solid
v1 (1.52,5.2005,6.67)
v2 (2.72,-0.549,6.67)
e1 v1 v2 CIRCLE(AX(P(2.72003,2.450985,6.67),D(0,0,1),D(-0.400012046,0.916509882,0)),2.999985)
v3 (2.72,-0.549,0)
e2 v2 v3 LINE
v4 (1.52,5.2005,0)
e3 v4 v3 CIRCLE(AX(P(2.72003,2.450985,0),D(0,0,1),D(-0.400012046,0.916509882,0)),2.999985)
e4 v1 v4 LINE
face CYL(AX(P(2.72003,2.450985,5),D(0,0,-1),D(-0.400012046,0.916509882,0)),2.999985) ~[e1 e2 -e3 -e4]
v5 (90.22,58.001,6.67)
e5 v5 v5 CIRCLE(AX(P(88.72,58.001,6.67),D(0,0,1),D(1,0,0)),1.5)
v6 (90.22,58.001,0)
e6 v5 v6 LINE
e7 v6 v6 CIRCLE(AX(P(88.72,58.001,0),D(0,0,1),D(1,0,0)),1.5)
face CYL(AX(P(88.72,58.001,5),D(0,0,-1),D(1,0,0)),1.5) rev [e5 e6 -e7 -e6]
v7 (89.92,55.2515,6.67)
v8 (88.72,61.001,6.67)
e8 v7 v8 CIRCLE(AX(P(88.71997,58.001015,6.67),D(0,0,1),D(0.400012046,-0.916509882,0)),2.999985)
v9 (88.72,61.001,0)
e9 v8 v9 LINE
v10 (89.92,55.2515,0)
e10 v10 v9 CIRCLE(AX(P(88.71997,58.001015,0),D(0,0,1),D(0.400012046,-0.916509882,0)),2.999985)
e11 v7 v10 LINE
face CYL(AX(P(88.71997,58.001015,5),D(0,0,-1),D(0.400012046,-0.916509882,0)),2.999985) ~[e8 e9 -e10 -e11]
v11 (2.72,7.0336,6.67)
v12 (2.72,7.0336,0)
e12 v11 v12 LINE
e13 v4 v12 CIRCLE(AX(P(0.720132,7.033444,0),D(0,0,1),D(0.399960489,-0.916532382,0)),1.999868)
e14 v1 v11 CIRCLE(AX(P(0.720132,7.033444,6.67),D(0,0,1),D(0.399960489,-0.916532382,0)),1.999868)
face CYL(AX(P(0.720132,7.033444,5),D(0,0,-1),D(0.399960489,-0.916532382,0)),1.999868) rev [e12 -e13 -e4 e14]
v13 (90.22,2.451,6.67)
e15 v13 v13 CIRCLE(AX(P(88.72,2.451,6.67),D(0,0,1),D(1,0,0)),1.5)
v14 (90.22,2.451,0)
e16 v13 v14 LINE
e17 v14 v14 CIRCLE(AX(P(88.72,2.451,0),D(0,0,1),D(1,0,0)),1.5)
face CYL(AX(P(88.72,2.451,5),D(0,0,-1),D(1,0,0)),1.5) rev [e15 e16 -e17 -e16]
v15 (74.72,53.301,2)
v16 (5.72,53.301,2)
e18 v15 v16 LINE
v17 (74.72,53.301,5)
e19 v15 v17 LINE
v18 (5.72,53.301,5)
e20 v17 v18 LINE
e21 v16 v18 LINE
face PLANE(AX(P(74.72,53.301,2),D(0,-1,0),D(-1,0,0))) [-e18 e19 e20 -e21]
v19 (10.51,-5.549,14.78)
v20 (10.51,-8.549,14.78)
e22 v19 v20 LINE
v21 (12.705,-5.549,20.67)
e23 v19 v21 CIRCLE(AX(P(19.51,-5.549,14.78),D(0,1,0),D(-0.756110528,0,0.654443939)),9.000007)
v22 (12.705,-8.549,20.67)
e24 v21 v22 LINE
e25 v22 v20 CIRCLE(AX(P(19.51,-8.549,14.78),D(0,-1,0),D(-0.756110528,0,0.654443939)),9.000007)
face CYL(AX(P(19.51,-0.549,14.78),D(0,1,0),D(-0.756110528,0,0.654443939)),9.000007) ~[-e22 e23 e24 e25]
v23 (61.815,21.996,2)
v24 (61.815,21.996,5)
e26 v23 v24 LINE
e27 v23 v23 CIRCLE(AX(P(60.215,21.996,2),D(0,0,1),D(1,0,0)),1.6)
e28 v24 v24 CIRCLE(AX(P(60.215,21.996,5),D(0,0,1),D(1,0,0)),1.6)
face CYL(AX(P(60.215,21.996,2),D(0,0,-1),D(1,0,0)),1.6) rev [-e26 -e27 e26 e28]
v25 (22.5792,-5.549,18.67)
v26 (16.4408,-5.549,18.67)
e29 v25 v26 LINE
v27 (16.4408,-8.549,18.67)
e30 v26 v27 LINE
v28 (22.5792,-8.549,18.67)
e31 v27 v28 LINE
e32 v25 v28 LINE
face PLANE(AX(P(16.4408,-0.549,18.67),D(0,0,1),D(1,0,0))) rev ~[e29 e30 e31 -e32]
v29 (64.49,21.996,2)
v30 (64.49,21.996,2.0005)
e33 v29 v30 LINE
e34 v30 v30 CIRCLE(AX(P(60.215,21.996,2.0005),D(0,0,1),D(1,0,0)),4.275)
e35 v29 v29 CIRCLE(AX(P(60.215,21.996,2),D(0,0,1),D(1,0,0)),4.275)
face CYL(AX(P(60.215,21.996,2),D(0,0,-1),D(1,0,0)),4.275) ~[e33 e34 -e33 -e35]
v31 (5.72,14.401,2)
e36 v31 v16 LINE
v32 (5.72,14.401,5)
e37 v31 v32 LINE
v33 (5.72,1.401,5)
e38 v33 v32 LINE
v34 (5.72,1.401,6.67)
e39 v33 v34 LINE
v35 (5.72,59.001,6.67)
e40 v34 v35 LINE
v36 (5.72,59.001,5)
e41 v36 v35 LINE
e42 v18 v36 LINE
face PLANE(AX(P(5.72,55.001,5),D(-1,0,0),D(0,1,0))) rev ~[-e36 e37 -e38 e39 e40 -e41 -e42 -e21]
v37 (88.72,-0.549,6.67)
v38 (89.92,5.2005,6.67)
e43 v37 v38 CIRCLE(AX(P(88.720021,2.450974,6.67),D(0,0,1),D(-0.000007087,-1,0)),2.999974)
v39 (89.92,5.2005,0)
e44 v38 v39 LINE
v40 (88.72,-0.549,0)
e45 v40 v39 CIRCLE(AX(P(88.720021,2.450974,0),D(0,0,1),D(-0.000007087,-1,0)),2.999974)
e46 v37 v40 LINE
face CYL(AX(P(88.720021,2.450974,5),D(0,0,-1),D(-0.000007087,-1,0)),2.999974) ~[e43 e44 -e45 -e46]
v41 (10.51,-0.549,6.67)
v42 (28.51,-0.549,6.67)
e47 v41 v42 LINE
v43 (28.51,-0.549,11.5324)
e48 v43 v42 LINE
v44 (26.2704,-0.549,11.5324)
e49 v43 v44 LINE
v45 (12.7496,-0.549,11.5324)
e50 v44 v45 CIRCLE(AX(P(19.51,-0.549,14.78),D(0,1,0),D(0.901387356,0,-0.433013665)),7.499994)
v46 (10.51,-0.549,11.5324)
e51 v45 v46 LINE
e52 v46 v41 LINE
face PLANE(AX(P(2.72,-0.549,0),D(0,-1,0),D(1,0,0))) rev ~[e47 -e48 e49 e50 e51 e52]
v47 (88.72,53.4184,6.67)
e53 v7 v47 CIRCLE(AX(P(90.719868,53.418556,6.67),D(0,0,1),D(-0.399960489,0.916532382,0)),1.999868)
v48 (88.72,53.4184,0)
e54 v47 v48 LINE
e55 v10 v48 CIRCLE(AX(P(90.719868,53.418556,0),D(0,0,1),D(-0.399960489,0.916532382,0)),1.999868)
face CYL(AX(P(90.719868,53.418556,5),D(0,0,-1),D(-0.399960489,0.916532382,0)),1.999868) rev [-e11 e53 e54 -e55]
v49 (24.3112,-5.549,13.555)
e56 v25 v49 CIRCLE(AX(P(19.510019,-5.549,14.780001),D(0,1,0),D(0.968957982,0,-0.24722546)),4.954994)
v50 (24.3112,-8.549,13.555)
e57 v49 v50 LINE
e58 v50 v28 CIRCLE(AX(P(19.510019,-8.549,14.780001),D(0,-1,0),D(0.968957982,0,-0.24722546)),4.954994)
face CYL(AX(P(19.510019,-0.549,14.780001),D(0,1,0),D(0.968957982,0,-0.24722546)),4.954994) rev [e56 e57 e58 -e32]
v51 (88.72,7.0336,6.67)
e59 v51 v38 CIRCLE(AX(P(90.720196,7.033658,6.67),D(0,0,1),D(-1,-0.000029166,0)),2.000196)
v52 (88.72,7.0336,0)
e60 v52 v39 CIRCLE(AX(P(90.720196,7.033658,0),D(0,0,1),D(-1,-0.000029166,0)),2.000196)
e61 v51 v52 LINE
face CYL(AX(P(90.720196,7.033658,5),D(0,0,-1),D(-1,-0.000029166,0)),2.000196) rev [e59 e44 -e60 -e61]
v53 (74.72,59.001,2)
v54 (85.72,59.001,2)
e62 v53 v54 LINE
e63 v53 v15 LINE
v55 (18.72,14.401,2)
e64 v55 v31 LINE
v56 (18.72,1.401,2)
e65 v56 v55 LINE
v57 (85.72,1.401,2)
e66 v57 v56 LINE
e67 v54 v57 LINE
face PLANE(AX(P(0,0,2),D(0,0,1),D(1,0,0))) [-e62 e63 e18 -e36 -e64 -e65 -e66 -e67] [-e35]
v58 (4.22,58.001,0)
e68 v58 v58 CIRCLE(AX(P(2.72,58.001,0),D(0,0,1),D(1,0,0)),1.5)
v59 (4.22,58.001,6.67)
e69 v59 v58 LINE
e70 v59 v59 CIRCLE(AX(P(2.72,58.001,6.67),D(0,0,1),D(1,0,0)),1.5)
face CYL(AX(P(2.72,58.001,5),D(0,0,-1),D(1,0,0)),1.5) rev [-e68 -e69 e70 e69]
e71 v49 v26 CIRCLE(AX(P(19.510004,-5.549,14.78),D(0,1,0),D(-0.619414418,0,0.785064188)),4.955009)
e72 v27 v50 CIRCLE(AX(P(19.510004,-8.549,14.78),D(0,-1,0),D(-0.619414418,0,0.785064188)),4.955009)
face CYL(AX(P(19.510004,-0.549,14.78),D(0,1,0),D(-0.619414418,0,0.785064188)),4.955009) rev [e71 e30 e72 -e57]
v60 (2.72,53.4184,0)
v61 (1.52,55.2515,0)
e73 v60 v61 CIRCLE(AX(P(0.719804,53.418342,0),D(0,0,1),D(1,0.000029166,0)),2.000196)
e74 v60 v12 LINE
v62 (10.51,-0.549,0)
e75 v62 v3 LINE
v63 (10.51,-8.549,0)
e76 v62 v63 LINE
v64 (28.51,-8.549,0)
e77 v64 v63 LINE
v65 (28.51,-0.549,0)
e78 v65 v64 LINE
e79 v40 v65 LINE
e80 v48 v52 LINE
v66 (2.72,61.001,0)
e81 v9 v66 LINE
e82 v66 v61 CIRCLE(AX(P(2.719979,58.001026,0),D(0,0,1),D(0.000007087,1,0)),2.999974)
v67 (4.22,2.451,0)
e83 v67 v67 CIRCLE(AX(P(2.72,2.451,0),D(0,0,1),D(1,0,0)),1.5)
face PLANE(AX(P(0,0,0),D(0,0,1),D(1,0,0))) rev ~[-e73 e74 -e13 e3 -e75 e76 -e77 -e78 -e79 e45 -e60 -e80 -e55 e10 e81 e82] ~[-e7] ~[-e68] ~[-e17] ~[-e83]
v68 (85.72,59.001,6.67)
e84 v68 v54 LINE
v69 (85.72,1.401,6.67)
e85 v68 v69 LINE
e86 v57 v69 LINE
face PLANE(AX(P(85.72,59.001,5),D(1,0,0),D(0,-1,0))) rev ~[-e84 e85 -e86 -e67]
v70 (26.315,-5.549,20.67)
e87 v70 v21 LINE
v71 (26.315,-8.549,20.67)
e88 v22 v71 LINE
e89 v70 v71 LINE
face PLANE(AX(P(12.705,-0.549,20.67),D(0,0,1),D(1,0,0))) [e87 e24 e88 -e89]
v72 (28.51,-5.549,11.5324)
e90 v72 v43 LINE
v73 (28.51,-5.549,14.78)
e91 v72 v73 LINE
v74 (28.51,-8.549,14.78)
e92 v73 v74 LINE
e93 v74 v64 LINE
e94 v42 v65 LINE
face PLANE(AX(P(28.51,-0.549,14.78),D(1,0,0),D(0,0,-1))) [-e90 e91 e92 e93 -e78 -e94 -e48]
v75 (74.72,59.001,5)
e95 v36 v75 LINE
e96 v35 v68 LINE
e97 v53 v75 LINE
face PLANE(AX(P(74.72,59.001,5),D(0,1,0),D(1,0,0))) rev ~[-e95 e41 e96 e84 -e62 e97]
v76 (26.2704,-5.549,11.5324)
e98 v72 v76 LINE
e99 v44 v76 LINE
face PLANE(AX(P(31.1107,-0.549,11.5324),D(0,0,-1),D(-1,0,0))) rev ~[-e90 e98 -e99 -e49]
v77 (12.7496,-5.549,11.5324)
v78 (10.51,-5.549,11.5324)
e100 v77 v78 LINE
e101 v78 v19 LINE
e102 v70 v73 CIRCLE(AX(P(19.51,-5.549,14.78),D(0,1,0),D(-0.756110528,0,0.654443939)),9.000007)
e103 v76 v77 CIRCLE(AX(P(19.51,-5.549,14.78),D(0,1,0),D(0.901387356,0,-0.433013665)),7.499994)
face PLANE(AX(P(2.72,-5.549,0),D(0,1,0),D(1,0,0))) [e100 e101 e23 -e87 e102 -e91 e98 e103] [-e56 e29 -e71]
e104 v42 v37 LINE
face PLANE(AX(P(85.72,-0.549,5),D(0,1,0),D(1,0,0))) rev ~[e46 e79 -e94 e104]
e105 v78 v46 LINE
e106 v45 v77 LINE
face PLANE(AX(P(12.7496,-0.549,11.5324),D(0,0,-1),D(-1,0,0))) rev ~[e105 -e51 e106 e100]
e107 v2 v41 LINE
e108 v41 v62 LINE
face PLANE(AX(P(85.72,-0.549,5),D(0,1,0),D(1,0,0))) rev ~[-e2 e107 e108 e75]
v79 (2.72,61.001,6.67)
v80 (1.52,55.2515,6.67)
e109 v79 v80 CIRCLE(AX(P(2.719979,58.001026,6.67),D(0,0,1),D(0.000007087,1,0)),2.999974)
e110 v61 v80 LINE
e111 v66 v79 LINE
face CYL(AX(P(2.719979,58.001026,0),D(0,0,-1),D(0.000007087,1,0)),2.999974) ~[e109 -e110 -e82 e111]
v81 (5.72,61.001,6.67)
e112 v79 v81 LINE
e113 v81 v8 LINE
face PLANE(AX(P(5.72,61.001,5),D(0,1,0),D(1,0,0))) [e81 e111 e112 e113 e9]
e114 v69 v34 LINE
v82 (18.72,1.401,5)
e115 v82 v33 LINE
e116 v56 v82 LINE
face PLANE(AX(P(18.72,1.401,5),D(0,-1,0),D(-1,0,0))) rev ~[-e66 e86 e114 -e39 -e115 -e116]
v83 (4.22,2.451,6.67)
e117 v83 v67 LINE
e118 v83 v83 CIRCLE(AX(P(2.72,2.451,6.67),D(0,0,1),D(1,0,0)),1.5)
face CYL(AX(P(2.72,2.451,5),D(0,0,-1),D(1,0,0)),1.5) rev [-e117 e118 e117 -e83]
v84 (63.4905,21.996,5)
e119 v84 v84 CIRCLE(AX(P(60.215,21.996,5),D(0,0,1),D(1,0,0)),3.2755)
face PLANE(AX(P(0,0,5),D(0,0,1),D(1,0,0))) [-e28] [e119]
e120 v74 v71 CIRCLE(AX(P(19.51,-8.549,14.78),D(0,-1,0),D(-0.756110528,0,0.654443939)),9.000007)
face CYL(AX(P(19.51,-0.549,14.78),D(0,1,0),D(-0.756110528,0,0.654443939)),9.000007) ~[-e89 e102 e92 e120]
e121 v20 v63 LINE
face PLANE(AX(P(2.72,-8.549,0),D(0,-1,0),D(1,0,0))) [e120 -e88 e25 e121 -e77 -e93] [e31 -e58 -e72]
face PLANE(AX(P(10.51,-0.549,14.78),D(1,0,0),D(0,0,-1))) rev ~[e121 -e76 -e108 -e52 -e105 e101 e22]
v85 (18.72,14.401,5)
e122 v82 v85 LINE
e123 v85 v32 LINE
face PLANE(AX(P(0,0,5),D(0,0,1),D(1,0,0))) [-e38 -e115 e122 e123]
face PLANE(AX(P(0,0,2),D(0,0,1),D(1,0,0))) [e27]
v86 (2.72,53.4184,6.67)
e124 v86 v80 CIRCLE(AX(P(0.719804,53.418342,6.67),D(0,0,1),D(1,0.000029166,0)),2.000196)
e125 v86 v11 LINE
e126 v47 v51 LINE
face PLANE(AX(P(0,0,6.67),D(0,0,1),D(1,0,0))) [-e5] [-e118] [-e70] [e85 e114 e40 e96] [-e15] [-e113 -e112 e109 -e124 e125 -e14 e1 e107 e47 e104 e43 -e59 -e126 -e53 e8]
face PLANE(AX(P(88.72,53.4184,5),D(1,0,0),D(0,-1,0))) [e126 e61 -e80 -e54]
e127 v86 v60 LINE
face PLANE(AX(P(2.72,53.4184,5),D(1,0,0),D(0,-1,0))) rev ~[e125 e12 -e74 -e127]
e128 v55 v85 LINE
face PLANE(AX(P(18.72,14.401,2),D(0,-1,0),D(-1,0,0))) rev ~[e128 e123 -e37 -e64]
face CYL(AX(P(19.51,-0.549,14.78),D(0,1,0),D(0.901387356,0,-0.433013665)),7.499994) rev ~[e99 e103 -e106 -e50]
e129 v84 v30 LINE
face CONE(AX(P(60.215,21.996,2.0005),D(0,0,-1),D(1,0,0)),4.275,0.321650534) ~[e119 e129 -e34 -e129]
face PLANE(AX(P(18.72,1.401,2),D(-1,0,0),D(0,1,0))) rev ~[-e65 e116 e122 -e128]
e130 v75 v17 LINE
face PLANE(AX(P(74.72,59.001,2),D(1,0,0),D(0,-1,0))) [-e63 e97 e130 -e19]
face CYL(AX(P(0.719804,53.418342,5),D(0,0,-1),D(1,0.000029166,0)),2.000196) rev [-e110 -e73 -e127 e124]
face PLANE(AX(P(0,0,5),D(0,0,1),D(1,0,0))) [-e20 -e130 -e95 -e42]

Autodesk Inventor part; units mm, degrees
ref_plane "YZ Plane" through (0, 0, 0) normal (1, 0, 0) x (0, 1, 0)
ref_plane "XZ Plane" through (0, 0, 0) normal (0, 1, 0) x (-1, 0, 0)
ref_plane "XY Plane" through (0, 0, 0) normal (0, 0, 1) x (1, 0, 0)
sketch "Sketch1" plane through (0, 0, 0) normal (0, 0, 1) x (1, 0, 0)
  line L0 (85.72, 30.226) -> (85.72, 1.401) construction
  line L1 (85.72, 1.401) -> (45.72, 1.401) construction
  line L2 (85.72, 1.401) -> (5.72, 1.401) construction
  line L3 (5.72, 1.401) -> (5.72, 59.001) construction
  line L4 (5.72, 59.001) -> (85.72, 59.001) construction
  line L5 (85.72, 59.001) -> (85.72, 1.401) construction
  line L6 (61.99, 1.401) -> (61.99, 20.221) construction
  line L7 (61.99, 20.221) -> (85.72, 20.221) construction
  line L8 (61.99, 20.221) -> (58.44, 20.221) construction
  line L9 (61.99, 23.771) -> (61.99, 20.221) construction
  line L10 (60.215, 20.221) -> (61.99, 20.221) construction
  line L11 (61.99, 20.221) -> (61.99, 21.996) construction
  line L12 (61.99, 21.996) -> (60.215, 21.996) construction
  line L13 (60.215, 21.996) -> (60.215, 20.221) construction
  circle A0 centre (60.215, 21.996) radius 1.775 construction
  circle A1 centre (60.215, 21.996) radius 2.775 construction
  circle A2 centre (60.215, 21.996) radius 4.275 construction
  line L14 (5.72, 59.001) -> (74.72, 59.001) construction
  line L15 (74.72, 59.001) -> (74.72, 53.301) construction
  line L16 (74.72, 53.301) -> (5.72, 53.301) construction
  line L17 (5.72, 53.301) -> (5.72, 59.001) construction
  line L18 (5.72, 1.401) -> (18.72, 1.401) construction
  line L19 (18.72, 1.401) -> (18.72, 14.401) construction
  line L20 (18.72, 14.401) -> (5.72, 14.401) construction
  line L21 (5.72, 14.401) -> (5.72, 1.401) construction
  circle A3 centre (2.72, 58.001) radius 1.5
  line L22 (3.72, 61.001) -> (5.72, 61.001)
  line L23 (5.72, 61.001) -> (5.72, 59.001) construction
  line L24 (5.72, 61.001) -> (2.72, 61.001)
  line L25 (5.72, 55.001) -> (5.72, 61.001) construction
  line L26 (45.72, 1.9437) -> (45.72, 30.226) construction
  line L27 (45.72, 30.226) -> (85.72, 30.226) construction
  arc A4 (2.72, 61.001) -> (1.52, 55.2515) centre (2.72, 58.001) ccw
  circle A5 centre (2.72, 2.451) radius 1.5
  line L28 (3.72, -0.549) -> (5.72, -0.549)
  line L29 (5.72, -0.549) -> (2.72, -0.549)
  arc A6 (1.52, 5.2005) -> (2.72, -0.549) centre (2.72, 2.451) ccw
  circle A7 centre (88.72, 58.001) radius 1.5
  line L30 (85.72, 61.001) -> (88.72, 61.001)
  arc A8 (89.92, 55.2515) -> (88.72, 61.001) centre (88.72, 58.001) ccw
  line L31 (85.72, -0.549) -> (88.72, -0.549)
  circle A9 centre (88.72, 2.451) radius 1.5
  arc A10 (88.72, -0.549) -> (89.92, 5.2005) centre (88.72, 2.451) ccw
  line L32 (2.72, 53.4184) -> (2.72, 7.0336)
  line L33 (5.72, 61.001) -> (85.72, 61.001)
  line L34 (88.72, 53.4184) -> (88.72, 7.0336)
  line L35 (85.72, -0.549) -> (5.72, -0.549)
  arc A11 (2.72, 53.4184) -> (1.52, 55.2515) centre (0.72, 53.4184) ccw
  arc A12 (1.52, 5.2005) -> (2.72, 7.0336) centre (0.72, 7.0336) ccw
  arc A13 (88.72, 7.0336) -> (89.92, 5.2005) centre (90.72, 7.0336) ccw
  arc A14 (89.92, 55.2515) -> (88.72, 53.4184) centre (90.72, 53.4184) ccw
  point P0 (0, 0)
  point P1 (2.72, 55.001)
  point P2 (2.72, 5.451)
  point P3 (91.44, 0)
  point P4 (88.72, 55.001)
  point P5 (88.72, 5.451)
  dimension "d32" = 40
  dimension "d33" = 28.825
  dimension "d34" = 80
  dimension "d37" = 18.82
  dimension "d40" = 5.55
  dimension "d41" = 8.55
  dimension "d42" = 69
  dimension "d43" = 5.7
  dimension "d44" = 13
  dimension "d45" = 13
  dimension "d52" = 2
  dimension "d80" = 3
extrude "Extrusion1" add sketch "Sketch1" along normal blind 2
sketch "Sketch2" plane through (0, 0, 2) normal (0, 0, 1) x (1, 0, 0)
  line L0 (85.72, 30.226) -> (85.72, 1.401)
  line L1 (5.72, 14.401) -> (5.72, 53.301)
  line L2 (74.72, 59.001) -> (85.72, 59.001)
  line L3 (85.72, 59.001) -> (85.72, 1.401)
  line L4 (61.815, 21.996) -> (60.215, 21.996)
  circle A0 centre (60.215, 21.996) radius 1.6
  circle A1 centre (60.215, 21.996) radius 2.775 construction
  circle A2 centre (60.215, 21.996) radius 4.275
  line L5 (45.72, 59.001) -> (74.72, 59.001)
  line L6 (74.72, 59.001) -> (74.72, 53.301)
  line L7 (74.72, 53.301) -> (5.72, 53.301)
  line L8 (5.72, 58.001) -> (5.72, 59.001)
  line L9 (5.72, 1.401) -> (18.72, 1.401)
  line L10 (18.72, 1.401) -> (18.72, 14.401)
  line L11 (18.72, 14.401) -> (5.72, 14.401)
  line L12 (5.72, 2.451) -> (5.72, 1.401)
  circle A3 centre (2.72, 58.001) radius 1.5
  line L13 (3.72, 61.001) -> (5.72, 61.001)
  line L14 (5.72, 61.001) -> (5.72, 59.001)
  line L15 (5.72, 61.001) -> (2.72, 61.001)
  line L16 (5.72, 59.001) -> (5.72, 61.001)
  arc A4 (2.72, 61.001) -> (1.52, 55.2515) centre (2.72, 58.001) ccw
  line L17 (3.72, -0.549) -> (5.72, -0.549)
  line L18 (5.72, -0.549) -> (2.72, -0.549)
  circle A5 centre (2.72, 2.451) radius 1.5
  arc A6 (1.52, 5.2005) -> (2.72, -0.549) centre (2.72, 2.451) ccw
  line L19 (85.72, -0.549) -> (88.72, -0.549)
  circle A7 centre (88.72, 2.451) radius 1.5
  arc A8 (88.72, -0.549) -> (89.92, 5.2005) centre (88.72, 2.451) ccw
  circle A9 centre (88.72, 58.001) radius 1.5
  arc A10 (89.92, 55.2515) -> (88.72, 61.001) centre (88.72, 58.001) ccw
  line L20 (85.72, 61.001) -> (88.72, 61.001)
  line L21 (2.72, 53.4184) -> (2.72, 7.0336)
  line L22 (5.72, 61.001) -> (85.72, 61.001)
  line L23 (88.72, 53.4184) -> (88.72, 7.0336)
  line L24 (85.72, -0.549) -> (5.72, -0.549)
  arc A11 (2.72, 53.4184) -> (1.52, 55.2515) centre (0.72, 53.4184) ccw
  arc A12 (1.52, 5.2005) -> (2.72, 7.0336) centre (0.72, 7.0336) ccw
  arc A13 (88.72, 7.0336) -> (89.92, 5.2005) centre (90.72, 7.0336) ccw
  arc A14 (89.92, 55.2515) -> (88.72, 53.4184) centre (90.72, 53.4184) ccw
  line L25 (85.72, 1.401) -> (74.72, 1.401)
  line L26 (61.99, 1.401) -> (45.72, 1.401)
  line L27 (85.72, 1.401) -> (74.72, 1.401)
  line L28 (61.99, 1.401) -> (18.72, 1.401)
  line L29 (61.99, 1.401) -> (74.72, 1.401)
  point P0 (0, 0)
  point P1 (2.72, 55.001)
  point P2 (2.72, 5.451)
  point P3 (91.44, 0)
  point P4 (88.72, 5.451)
  point P5 (88.72, 55.001)
  dimension "d89" = 3.2
  dimension "d53" = 40
  dimension "d54" = 28.825
  dimension "d55" = 80
  dimension "d57" = 5.55
  dimension "d58" = 8.55
  dimension "d59" = 69
  dimension "d60" = 5.7
  dimension "d61" = 13
  dimension "d62" = 13
  dimension "d63" = 2
  dimension "d81" = 3
  dimension "d82" = 3
  dimension "d83" = 3
  dimension "d84" = 3
extrude "Extrusion2" add sketch "Sketch2" along normal blind 3
sketch "Sketch5" plane through (0, 0, 5) normal (0, 0, 1) x (1, 0, 0)
  line L0 (85.72, 30.226) -> (85.72, 1.401)
  line L1 (85.72, 1.401) -> (45.72, 1.401)
  line L2 (85.72, 1.401) -> (5.72, 1.401)
  line L3 (5.72, 1.401) -> (5.72, 59.001)
  line L4 (5.72, 59.001) -> (85.72, 59.001)
  line L5 (85.72, 59.001) -> (85.72, 1.401)
  line L6 (5.72, 59.001) -> (74.72, 59.001)
  line L7 (5.72, 53.301) -> (5.72, 59.001)
  line L8 (5.72, 1.401) -> (18.72, 1.401)
  line L9 (5.72, 14.401) -> (5.72, 1.401)
  circle A0 centre (2.72, 58.001) radius 1.5
  line L10 (3.72, 61.001) -> (5.72, 61.001)
  line L11 (5.72, 61.001) -> (5.72, 59.001)
  line L12 (5.72, 61.001) -> (2.72, 61.001)
  line L13 (5.72, 55.001) -> (5.72, 61.001)
  arc A1 (2.72, 61.001) -> (1.52, 55.2515) centre (2.72, 58.001) ccw
  line L14 (3.72, -0.549) -> (5.72, -0.549)
  line L15 (5.72, -0.549) -> (2.72, -0.549)
  circle A2 centre (2.72, 2.451) radius 1.5
  arc A3 (1.52, 5.2005) -> (2.72, -0.549) centre (2.72, 2.451) ccw
  line L16 (85.72, -0.549) -> (88.72, -0.549)
  circle A4 centre (88.72, 2.451) radius 1.5
  arc A5 (88.72, -0.549) -> (89.92, 5.2005) centre (88.72, 2.451) ccw
  circle A6 centre (88.72, 58.001) radius 1.5
  arc A7 (89.92, 55.2515) -> (88.72, 61.001) centre (88.72, 58.001) ccw
  line L17 (85.72, 61.001) -> (88.72, 61.001)
  line L18 (2.72, 53.4184) -> (2.72, 7.0336)
  line L19 (5.72, 61.001) -> (85.72, 61.001)
  line L20 (88.72, 53.4184) -> (88.72, 7.0336)
  line L21 (85.72, -0.549) -> (5.72, -0.549)
  arc A8 (2.72, 53.4184) -> (1.52, 55.2515) centre (0.72, 53.4184) ccw
  arc A9 (1.52, 5.2005) -> (2.72, 7.0336) centre (0.72, 7.0336) ccw
  arc A10 (88.72, 7.0336) -> (89.92, 5.2005) centre (90.72, 7.0336) ccw
  arc A11 (89.92, 55.2515) -> (88.72, 53.4184) centre (90.72, 53.4184) ccw
  point P0 (0, 0)
  point P1 (0, 0)
  point P2 (2.72, 55.001)
  point P3 (2.72, 5.451)
  point P4 (91.44, 0)
  point P5 (88.72, 5.451)
  point P6 (88.72, 55.001)
  dimension "d64" = 40
  dimension "d65" = 28.825
  dimension "d66" = 80
  dimension "d74" = 2
  dimension "d85" = 3
  dimension "d86" = 3
  dimension "d87" = 3
  dimension "d88" = 3
extrude "Extrusion5" add sketch "Sketch5" along normal blind 1.67
chamfer "Chamfer1" distance 1 distance2 3 1 edges at (55.94, 21.996, 5) measured on face at (63.5414, 21.5273, 5)
sketch "Sketch6" plane through (2.72, -0.549, 0) normal (0, -1, 0) x (1, 0, 0)
  line L0 (-2.72, 20.7114) -> (-2.72, 7.1986) construction
  arc A0 (14.6348, 17.447) -> (18.9452, 17.447) centre (16.79, 14.78) ccw construction
  line L1 (14.6347, 17.447) -> (18.9453, 17.447) construction
  line L2 (-3, 20.67) -> (-3, 6.67) construction
  line L3 (0, 13.555) -> (92, 13.555) construction
  line L4 (0.28, 13.555) -> (46, 13.555) construction
  line L5 (13.7208, 18.67) -> (19.8592, 18.67)
  line L6 (8.6741, 18.67) -> (83, 18.67) construction
  line L7 (83, 18.67) -> (8.6741, 18.67) construction
  circle A1 centre (16.79, 14.78) radius 7.15 construction
  circle A2 centre (16.79, 14.78) radius 6.25 construction
  line L8 (18.077, 2.0446) -> (21.077, 2.0446)
  line L9 (13.0545, 18.0609) -> (13.0545, 18.67) construction
  line L10 (11.835, 14.78) -> (11.4131, 5.117) construction
  line L11 (11.835, 14.78) -> (21.5072, 14.78) construction
  line L12 (21.745, 14.78) -> (22.1562, 5.3611) construction
  line L13 (21.745, 14.78) -> (31.1729, 14.78) construction
  arc A3 (13.7208, 18.67) -> (21.5912, 13.555) centre (16.79, 14.78) ccw
  arc A4 (21.5912, 13.555) -> (19.8592, 18.67) centre (16.79, 14.78) ccw
  line L14 (22.1562, 5.3611) -> (11.4131, 5.117) construction
  line L15 (-3, 20.67) -> (-3, 6.67)
  line L16 (0, 6.67) -> (-3, 6.67) projected
  arc A5 (9.985, 20.67) -> (23.595, 20.67) centre (16.79, 14.78) ccw
  line L17 (16.79, 14.78) -> (7.79, 14.78) construction
  line L18 (7.79, 14.78) -> (7.79, 0)
  line L19 (86, 0) -> (0, 0) projected
  line L20 (16.79, 14.78) -> (25.79, 14.78) construction
  line L21 (25.79, 14.78) -> (25.79, 0)
  line L22 (-3, 20.67) -> (-2.72, 20.67)
  line L23 (9.985, 20.67) -> (35.5259, 20.67)
  point P0 (-2.72, 0)
  point P1 (-2.72, 20.67)
  point P2 (-1.2, 6.67)
  dimension "d90" = 14.3
  dimension "d91" = 12.5
  dimension "d92" = 3
  dimension "d93" = 92.5
  dimension "d94" = 87.5
extrude "Extrusion6" add sketch "Sketch6" along normal blind 8
sketch "Sketch7" plane through (2.72, -8.549, 0) normal (0, -1, 0) x (1, 0, 0)
  point P0 (-2.72, 0)
sketch "Sketch8" plane through (2.72, -0.549, 0) normal (0, 1, 0) x (1, 0, 0)
  line L0 (18.077, 2.0446) -> (21.077, 2.0446)
  line L1 (86, 0) -> (0, 0) construction
  line L2 (22.1562, -5.3611) -> (11.4131, -5.117) construction
  line L3 (18.077, -2.0446) -> (21.077, -2.0446) construction
  line L4 (-2.72, -20.7114) -> (-2.72, -7.1986) construction
  line L5 (-3, -20.67) -> (-3, -6.67) construction
  line L6 (-3, -20.67) -> (-3, -6.67)
  line L7 (0, -13.555) -> (92, -13.555) construction
  line L8 (0.28, -13.555) -> (46, -13.555) construction
  line L9 (0, -6.67) -> (-3, -6.67)
  line L10 (7.79, -14.78) -> (7.79, 0) construction
  line L11 (25.79, -14.78) -> (25.79, 0) construction
  line L12 (-3, -20.67) -> (-2.72, -20.67)
  line L13 (13.04, -8.2848) -> (20.54, -8.2848) construction
  line L14 (20.54, -8.2848) -> (24.29, -14.78) construction
  line L15 (22.415, -11.5324) -> (28.3907, -11.5324) construction
  line L16 (27.6858, -27.8063) -> (6.6122, -26.5118)
  line L17 (6.6122, -26.5118) -> (5.8176, -11.5324)
  arc A0 (21.5912, -13.555) -> (20.5323, -11.5324) centre (16.79, -14.78) ccw construction
  line L18 (28.3907, -11.5324) -> (23.5504, -11.5324)
  line L19 (10.0296, -11.5324) -> (5.8176, -11.5324)
  arc A1 (23.5504, -11.5324) -> (10.0296, -11.5324) centre (16.79, -14.78) ccw
  line L20 (28.3907, -11.5324) -> (27.6858, -27.8063)
  point P0 (-2.72, 0)
  point P1 (-2.72, 0)
  point P2 (-2.72, -20.67)
  point P3 (-1.2, -6.67)
extrude "Extrusion7" cut sketch "Sketch8" against normal blind 5
properties part number "Redid DAQ Enclosure Bottom TTL"
